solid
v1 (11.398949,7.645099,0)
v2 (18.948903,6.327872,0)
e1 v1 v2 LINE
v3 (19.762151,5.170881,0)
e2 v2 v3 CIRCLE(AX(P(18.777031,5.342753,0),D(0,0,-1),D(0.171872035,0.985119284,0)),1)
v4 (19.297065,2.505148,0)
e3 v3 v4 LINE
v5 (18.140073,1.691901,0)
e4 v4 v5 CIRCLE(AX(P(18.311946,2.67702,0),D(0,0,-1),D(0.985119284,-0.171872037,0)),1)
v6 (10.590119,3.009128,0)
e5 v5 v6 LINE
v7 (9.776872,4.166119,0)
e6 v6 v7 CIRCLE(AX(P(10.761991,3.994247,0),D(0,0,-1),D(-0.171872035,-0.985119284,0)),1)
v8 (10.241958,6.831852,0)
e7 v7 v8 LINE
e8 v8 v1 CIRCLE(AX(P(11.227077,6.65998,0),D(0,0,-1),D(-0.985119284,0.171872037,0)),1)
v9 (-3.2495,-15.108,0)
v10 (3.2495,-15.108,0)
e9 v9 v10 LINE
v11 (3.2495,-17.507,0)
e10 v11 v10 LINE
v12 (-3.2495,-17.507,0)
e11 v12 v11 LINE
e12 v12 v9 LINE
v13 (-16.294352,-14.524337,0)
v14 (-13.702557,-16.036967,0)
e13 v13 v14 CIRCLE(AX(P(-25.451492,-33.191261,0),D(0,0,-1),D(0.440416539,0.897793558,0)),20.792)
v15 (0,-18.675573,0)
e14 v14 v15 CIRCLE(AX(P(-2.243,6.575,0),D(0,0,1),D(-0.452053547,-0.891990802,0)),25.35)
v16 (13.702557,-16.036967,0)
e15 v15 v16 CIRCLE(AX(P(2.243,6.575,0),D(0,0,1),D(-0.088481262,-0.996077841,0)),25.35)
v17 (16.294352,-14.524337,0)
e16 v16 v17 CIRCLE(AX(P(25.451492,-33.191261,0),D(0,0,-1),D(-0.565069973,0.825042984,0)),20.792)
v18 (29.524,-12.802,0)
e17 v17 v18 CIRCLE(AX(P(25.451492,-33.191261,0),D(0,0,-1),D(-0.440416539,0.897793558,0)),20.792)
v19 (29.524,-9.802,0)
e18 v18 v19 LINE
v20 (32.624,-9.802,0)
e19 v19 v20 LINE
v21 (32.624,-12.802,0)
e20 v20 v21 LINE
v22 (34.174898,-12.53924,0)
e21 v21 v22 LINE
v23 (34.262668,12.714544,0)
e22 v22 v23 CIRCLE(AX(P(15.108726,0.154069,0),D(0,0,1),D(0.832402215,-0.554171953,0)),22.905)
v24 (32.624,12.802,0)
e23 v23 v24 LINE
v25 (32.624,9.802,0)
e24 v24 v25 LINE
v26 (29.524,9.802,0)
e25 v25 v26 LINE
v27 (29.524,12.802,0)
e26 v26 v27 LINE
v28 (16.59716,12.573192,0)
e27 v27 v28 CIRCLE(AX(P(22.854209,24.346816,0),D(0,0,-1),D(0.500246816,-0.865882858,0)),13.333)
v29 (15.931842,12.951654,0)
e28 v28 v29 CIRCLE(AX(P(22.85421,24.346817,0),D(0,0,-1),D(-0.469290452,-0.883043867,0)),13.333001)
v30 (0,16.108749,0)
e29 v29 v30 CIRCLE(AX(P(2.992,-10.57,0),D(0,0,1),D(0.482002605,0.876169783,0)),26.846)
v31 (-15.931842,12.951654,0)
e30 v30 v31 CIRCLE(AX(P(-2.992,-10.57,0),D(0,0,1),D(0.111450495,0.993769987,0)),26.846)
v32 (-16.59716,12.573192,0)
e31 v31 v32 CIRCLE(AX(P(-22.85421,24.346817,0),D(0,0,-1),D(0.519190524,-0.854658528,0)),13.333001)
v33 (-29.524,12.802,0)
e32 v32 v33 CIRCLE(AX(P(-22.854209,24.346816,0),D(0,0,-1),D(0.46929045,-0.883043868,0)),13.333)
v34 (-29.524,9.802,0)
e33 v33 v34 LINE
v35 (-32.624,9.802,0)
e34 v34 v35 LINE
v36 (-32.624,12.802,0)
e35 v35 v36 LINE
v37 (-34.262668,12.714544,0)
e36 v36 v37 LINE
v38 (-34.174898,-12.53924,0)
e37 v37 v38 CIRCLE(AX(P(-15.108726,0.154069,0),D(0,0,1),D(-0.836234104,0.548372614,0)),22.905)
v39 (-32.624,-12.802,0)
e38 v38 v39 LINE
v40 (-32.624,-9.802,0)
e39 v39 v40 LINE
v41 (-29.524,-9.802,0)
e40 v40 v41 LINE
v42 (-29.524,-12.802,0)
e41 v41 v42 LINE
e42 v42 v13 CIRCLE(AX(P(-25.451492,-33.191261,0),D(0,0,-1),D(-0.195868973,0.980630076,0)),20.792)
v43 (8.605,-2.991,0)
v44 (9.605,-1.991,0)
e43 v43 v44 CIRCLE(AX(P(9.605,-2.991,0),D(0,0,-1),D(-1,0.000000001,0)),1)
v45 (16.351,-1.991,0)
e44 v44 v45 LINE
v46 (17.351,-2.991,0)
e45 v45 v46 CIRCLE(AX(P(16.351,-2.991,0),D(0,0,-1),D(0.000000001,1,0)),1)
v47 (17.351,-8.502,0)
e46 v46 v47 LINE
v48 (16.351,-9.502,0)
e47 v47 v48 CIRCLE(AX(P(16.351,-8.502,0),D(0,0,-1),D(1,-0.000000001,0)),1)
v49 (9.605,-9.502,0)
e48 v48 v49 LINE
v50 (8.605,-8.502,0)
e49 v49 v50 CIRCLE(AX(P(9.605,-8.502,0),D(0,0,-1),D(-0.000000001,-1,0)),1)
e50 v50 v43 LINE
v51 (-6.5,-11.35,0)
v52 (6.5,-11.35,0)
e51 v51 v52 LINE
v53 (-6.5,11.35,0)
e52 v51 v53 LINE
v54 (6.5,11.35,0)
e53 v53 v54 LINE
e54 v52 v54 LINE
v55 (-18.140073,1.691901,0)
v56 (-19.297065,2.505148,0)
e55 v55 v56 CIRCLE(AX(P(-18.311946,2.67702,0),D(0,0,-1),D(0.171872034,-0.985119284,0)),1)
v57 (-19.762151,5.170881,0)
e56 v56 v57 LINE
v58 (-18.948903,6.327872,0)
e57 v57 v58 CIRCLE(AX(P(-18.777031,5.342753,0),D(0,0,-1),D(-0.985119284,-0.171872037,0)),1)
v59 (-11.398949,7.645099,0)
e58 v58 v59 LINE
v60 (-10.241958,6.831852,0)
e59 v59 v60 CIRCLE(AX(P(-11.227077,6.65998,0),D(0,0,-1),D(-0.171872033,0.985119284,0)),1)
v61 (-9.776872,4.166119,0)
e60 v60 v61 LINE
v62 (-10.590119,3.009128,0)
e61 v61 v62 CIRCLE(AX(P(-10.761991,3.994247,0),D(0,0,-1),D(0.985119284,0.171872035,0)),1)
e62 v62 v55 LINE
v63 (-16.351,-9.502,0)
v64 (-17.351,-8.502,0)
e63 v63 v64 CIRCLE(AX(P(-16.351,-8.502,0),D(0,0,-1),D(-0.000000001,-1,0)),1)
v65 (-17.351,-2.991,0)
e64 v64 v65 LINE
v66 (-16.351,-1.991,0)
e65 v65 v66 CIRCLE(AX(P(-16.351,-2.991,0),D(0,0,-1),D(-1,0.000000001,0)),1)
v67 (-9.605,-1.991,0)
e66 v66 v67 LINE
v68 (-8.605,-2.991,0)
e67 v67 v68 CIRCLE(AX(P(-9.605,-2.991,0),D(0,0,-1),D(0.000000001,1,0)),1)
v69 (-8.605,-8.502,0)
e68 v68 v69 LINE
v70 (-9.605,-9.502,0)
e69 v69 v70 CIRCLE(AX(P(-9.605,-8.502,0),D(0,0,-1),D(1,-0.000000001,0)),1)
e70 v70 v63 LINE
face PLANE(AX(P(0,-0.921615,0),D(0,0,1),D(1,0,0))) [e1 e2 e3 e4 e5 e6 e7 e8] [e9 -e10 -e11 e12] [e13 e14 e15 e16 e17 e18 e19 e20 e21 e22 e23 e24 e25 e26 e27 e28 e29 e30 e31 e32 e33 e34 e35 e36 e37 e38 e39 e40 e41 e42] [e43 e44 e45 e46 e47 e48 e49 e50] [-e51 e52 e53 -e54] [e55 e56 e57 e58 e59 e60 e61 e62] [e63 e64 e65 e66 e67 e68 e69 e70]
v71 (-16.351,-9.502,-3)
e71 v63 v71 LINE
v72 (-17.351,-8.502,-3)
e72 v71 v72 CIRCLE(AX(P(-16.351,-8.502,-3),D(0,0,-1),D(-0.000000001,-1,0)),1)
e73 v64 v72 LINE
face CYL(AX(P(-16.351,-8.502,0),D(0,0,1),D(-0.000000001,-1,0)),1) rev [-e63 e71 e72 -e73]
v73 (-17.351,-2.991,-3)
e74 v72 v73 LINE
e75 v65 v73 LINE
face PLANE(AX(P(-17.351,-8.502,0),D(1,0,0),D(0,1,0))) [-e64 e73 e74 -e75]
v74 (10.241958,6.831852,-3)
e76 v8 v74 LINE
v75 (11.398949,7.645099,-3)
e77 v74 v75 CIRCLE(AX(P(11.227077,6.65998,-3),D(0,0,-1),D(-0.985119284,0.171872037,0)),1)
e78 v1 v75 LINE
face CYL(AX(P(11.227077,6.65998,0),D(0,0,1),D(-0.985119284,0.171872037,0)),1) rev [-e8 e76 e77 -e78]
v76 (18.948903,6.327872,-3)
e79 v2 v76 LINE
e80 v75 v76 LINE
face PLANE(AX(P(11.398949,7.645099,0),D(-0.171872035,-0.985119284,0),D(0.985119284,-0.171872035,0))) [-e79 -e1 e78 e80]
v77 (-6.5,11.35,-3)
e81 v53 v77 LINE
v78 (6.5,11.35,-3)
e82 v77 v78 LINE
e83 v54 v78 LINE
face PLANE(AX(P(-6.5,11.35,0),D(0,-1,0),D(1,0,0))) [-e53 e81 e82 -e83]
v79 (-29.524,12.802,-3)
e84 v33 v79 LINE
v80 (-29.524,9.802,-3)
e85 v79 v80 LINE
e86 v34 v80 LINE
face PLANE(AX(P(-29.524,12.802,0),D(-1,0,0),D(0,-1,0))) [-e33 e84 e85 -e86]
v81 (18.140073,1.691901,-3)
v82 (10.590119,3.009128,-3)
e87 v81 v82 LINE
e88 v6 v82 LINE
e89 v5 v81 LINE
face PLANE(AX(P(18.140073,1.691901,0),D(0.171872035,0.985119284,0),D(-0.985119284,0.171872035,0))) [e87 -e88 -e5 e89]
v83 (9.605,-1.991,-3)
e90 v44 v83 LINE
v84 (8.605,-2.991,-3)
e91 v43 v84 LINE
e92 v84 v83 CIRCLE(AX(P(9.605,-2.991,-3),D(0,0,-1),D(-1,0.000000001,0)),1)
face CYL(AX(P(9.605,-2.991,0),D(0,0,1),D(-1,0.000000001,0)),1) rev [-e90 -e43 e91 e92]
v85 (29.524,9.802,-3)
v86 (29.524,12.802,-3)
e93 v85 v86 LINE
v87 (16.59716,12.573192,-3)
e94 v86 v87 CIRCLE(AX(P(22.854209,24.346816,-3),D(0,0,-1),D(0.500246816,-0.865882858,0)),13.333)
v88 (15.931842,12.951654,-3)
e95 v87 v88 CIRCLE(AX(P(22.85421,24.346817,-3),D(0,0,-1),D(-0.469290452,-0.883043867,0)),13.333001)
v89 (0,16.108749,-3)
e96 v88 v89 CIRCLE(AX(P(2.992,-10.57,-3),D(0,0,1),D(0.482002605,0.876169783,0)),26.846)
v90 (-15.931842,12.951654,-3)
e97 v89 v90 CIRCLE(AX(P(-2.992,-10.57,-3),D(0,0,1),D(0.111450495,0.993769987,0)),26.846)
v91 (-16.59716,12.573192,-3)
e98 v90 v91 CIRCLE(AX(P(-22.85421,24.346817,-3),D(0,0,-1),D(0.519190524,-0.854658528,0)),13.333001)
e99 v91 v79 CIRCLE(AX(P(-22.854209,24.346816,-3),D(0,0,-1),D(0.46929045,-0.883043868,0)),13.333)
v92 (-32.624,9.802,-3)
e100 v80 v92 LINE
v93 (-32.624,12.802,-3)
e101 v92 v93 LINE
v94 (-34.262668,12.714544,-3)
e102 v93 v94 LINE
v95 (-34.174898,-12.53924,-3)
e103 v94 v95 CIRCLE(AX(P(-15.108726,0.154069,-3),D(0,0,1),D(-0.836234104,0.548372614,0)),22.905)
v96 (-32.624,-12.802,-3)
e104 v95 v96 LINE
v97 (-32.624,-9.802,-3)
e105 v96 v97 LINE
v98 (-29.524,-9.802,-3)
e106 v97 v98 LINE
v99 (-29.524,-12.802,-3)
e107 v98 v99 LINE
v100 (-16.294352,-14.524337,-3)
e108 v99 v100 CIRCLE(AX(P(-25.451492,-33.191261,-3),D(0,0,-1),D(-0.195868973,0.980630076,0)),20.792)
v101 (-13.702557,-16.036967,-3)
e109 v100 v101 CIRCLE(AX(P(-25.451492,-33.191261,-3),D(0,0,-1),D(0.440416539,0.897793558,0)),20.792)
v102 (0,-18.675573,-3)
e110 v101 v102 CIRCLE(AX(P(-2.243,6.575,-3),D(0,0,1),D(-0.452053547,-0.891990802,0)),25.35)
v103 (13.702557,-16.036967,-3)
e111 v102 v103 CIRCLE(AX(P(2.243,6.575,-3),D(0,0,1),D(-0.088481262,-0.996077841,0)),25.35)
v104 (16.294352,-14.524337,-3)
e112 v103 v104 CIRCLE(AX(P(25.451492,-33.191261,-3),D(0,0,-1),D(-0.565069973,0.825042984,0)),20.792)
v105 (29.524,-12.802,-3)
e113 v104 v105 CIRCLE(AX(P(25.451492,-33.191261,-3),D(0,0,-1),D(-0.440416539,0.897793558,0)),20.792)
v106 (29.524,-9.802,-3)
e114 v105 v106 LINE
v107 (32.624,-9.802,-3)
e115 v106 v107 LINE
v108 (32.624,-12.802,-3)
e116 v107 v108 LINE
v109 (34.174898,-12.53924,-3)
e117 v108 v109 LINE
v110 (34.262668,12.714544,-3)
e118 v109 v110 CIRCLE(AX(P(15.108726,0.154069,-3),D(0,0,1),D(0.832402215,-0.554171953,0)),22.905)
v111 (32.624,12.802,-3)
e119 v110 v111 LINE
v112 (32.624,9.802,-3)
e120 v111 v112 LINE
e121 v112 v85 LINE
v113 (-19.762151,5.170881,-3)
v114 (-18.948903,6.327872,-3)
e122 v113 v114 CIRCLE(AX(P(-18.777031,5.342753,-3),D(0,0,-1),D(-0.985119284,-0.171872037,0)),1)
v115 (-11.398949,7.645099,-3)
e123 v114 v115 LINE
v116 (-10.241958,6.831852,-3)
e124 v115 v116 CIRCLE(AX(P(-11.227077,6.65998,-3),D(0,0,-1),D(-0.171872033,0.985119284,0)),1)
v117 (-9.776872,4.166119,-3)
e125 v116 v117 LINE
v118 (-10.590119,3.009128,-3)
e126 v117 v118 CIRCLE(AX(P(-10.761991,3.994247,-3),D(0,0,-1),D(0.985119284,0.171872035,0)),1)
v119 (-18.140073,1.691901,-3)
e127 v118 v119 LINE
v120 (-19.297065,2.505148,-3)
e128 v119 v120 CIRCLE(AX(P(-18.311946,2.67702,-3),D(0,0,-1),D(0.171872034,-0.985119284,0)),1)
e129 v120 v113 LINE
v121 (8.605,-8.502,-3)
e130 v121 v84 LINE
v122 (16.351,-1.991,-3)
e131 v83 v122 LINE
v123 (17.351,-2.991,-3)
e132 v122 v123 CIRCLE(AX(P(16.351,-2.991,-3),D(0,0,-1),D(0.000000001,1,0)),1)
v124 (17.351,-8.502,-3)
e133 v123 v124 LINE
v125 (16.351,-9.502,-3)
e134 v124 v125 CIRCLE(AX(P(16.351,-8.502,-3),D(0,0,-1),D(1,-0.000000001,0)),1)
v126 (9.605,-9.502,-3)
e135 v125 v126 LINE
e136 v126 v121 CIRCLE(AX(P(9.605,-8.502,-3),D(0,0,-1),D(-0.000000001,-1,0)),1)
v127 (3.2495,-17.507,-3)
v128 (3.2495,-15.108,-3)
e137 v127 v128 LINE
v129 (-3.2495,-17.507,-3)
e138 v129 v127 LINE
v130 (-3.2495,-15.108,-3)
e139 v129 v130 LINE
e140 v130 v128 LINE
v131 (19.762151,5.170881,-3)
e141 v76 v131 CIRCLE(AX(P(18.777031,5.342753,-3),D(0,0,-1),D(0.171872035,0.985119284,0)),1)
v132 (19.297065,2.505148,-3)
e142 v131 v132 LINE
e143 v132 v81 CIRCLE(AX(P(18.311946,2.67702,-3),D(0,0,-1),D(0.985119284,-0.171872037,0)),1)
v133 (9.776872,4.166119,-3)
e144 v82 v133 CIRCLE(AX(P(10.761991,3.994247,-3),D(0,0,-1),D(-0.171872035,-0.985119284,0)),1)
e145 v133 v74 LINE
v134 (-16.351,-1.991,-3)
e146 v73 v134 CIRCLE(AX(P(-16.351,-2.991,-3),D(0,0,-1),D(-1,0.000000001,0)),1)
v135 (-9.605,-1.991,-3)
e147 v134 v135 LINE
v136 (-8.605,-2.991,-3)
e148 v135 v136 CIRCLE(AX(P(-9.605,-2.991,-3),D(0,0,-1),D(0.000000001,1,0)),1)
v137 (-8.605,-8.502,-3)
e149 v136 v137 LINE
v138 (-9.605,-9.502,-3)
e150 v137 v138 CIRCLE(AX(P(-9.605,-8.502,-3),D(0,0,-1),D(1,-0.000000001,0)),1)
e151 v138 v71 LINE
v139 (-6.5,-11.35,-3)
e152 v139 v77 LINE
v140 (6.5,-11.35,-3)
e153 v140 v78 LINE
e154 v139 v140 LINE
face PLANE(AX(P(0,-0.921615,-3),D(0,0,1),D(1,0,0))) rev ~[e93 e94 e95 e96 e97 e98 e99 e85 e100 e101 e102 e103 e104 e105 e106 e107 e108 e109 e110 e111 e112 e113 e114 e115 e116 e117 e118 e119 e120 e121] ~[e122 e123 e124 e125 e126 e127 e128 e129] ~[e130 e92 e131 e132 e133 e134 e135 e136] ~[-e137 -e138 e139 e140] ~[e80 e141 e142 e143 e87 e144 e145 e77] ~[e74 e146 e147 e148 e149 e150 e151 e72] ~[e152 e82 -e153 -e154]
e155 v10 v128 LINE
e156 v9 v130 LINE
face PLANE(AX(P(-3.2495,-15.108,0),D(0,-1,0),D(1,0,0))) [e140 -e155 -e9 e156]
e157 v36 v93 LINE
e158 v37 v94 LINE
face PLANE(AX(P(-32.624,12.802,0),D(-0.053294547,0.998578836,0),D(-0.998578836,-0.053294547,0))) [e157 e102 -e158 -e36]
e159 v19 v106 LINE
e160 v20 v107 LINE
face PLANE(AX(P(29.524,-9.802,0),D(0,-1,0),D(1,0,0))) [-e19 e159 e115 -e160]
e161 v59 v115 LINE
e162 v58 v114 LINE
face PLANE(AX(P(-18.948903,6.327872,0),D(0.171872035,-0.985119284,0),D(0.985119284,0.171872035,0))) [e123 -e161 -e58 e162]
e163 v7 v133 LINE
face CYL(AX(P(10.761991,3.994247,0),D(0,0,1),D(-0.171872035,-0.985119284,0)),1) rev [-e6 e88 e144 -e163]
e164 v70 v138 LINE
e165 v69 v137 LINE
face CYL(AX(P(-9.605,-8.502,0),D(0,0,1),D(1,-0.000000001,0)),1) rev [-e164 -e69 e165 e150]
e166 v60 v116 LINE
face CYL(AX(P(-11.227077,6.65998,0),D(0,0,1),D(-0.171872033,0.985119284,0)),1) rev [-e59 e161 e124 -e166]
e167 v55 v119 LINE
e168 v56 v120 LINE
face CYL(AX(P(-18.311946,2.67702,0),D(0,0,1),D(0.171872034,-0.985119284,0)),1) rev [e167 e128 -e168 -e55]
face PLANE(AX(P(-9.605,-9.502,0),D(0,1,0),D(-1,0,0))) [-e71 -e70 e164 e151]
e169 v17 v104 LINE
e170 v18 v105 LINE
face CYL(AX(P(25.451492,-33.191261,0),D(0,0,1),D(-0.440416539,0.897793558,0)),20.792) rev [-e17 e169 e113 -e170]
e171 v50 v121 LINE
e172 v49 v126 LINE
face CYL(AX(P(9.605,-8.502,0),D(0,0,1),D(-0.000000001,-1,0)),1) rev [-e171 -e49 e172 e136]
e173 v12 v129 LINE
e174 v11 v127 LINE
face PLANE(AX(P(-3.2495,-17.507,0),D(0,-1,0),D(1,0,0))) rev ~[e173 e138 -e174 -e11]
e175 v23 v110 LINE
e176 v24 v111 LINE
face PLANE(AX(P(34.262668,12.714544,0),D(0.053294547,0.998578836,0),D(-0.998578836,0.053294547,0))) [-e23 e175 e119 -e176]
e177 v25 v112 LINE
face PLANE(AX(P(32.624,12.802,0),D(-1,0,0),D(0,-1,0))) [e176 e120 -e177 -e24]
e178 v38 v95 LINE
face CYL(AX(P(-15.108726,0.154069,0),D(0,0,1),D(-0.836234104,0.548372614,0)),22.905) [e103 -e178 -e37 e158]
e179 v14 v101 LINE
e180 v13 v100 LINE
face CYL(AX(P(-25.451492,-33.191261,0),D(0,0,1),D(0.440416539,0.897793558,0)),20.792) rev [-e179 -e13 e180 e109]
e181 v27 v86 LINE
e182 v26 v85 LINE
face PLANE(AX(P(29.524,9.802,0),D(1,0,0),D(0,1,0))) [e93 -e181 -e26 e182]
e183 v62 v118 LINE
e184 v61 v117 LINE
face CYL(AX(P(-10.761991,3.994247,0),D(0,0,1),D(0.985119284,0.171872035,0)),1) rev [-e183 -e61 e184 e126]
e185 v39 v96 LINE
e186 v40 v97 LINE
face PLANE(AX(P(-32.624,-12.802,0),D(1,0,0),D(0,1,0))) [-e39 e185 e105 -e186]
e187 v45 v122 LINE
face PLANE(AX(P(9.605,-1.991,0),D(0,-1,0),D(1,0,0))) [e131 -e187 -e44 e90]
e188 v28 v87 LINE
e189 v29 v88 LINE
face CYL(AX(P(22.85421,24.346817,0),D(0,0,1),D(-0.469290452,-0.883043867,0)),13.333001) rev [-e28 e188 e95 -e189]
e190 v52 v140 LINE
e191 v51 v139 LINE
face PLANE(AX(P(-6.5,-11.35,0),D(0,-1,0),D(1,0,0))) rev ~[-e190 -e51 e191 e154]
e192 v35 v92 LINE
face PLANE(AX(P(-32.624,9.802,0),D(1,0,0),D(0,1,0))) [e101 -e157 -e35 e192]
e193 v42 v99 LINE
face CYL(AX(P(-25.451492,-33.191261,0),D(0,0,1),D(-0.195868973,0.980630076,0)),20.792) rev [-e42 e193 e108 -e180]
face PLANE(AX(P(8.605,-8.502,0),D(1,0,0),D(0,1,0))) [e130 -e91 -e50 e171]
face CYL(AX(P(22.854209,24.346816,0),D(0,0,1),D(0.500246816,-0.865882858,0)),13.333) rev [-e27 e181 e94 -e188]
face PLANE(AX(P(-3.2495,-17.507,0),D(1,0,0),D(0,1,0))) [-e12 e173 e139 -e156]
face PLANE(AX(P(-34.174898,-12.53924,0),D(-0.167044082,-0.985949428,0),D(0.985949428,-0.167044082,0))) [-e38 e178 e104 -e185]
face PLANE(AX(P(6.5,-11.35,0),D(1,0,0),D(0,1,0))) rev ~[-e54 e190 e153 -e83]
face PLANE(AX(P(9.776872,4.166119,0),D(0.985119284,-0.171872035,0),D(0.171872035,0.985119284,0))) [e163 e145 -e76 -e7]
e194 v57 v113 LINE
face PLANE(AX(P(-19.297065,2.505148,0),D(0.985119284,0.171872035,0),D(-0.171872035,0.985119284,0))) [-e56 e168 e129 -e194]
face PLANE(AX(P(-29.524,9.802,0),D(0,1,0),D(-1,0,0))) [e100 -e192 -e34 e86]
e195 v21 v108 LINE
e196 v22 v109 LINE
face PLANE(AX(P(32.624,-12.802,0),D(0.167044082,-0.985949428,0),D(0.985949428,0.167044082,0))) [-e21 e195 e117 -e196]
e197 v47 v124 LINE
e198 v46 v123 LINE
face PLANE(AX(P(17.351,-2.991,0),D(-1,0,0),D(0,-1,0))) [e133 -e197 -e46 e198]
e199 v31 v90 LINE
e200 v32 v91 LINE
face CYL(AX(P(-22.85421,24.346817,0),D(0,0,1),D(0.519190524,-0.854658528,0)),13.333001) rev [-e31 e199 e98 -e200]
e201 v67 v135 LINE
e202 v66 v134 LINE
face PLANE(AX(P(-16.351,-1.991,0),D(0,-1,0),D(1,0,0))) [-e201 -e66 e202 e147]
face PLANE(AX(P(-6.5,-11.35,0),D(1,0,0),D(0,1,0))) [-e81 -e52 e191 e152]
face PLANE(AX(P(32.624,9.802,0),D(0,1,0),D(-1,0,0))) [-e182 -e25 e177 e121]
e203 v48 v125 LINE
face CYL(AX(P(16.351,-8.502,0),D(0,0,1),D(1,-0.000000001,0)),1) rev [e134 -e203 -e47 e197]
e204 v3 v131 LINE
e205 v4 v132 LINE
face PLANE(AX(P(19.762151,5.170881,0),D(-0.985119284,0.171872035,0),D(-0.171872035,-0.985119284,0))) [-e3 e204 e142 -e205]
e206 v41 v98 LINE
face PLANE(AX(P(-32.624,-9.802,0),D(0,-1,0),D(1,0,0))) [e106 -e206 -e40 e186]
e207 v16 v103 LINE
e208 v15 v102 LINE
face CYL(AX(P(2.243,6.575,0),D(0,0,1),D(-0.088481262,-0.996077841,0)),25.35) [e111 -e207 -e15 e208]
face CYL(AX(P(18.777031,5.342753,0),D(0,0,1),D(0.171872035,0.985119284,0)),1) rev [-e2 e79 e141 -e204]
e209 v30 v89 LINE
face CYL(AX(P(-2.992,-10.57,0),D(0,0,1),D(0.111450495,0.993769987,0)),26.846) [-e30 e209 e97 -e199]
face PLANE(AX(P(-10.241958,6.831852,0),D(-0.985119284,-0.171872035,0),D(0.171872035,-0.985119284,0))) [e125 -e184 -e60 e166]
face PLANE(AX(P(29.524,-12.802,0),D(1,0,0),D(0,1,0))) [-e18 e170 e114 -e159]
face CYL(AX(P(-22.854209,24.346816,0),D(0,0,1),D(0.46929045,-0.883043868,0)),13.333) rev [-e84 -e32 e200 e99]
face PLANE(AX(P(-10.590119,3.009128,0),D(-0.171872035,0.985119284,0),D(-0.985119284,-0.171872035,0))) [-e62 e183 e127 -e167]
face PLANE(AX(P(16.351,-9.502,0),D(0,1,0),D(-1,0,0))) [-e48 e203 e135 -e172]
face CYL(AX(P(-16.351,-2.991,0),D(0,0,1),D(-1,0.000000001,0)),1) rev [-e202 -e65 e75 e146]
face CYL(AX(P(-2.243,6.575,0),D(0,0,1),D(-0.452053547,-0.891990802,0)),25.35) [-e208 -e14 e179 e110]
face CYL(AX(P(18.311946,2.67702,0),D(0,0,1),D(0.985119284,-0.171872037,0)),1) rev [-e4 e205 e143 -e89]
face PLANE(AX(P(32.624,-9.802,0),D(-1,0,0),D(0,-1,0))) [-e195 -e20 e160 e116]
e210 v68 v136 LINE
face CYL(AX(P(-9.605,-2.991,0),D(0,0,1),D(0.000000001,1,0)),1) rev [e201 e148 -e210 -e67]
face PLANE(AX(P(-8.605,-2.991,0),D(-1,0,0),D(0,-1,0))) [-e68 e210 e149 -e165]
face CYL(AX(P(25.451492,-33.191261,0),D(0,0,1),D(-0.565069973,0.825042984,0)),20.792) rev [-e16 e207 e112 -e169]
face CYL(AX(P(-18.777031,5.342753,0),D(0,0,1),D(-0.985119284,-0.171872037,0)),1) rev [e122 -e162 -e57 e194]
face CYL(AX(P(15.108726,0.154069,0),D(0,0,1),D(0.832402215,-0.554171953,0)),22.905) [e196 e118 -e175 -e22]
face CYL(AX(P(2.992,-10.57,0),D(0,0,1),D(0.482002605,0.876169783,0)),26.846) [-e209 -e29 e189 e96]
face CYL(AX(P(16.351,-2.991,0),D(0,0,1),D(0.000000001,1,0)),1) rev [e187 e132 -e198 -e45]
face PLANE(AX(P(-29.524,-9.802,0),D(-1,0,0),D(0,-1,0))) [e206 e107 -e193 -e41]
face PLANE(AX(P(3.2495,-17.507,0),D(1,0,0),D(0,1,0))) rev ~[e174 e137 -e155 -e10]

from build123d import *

# Parameters (mm, degrees)
BOSS_EXTRUDE1_DEPTH = 3
SKETCH2_W           = 13
SKETCH2_H           = 22.7
SKETCH2_W_2         = 6.499
SKETCH2_H_2         = 2.399
CUT_EXTRUDE1_DEPTH  = 3


with BuildPart() as part:
    # Sketch1 → Boss-Extrude1 (new body)
    with BuildSketch(Plane.XY):
        with BuildLine():
            ThreePointArc((-27.048045715, 1.346978667), (-23.229413898, -7.644456097), (-16.294351646, -14.524336884))
            ThreePointArc((-16.294351646, -14.524336884), (-14.971129192, -15.233831637), (-13.702557421, -16.036966825))
            ThreePointArc((-13.702557421, -16.036966825), (-7.036411487, -18.317683791), (0, -18.675573281))
            ThreePointArc((0, -18.675573281), (7.036411487, -18.317683791), (13.702557421, -16.036966825))
            ThreePointArc((13.702557421, -16.036966825), (14.971129192, -15.233831637), (16.294351646, -14.524336884))
            ThreePointArc((16.294351646, -14.524336884), (23.229413898, -7.644456097), (27.048045715, 1.346978667))
            ThreePointArc((27.048045715, 1.346978667), (22.641390956, 7.722324922), (16.597159635, 12.573192245))
            ThreePointArc((16.597159635, 12.573192245), (16.261784348, 12.757647773), (15.931841919, 12.951654004))
            ThreePointArc((15.931841919, 12.951654004), (8.210400332, 15.763932748), (0, 16.108749071))
            ThreePointArc((0, 16.108749071), (-8.210400332, 15.763932748), (-15.931841919, 12.951654004))
            ThreePointArc((-15.931841919, 12.951654004), (-16.261784348, 12.757647773), (-16.597159635, 12.573192245))
            ThreePointArc((-16.597159635, 12.573192245), (-22.641390956, 7.722324922), (-27.048045715, 1.346978667))
        make_face()
        with BuildLine():
            Line((29.524, 9.802), (29.524, -9.802))
            Line((29.524, -9.802), (32.624, -9.802))
            Line((32.624, -9.802), (32.624, -12.802))
            Line((32.624, -12.802), (34.17489845, -12.539239659))
            ThreePointArc((34.17489845, -12.539239659), (38.013587392, 0.074463168), (34.262667869, 12.714543648))
            Line((34.262667869, 12.714543648), (32.624, 12.802))
            Line((32.624, 12.802), (32.624, 9.802))
            Line((32.624, 9.802), (29.524, 9.802))
        make_face()
        with BuildLine():
            ThreePointArc((27.048045715, 1.346978667), (23.229413898, -7.644456097), (16.294351646, -14.524336884))
            ThreePointArc((16.294351646, -14.524336884), (22.767282146, -12.573251909), (29.524, -12.802))
            Line((29.524, -12.802), (29.524, -9.802))
            Line((29.524, -9.802), (29.524, 9.802))
            Line((29.524, 9.802), (29.524, 12.802))
            ThreePointArc((29.524, 12.802), (23.09016911, 11.015904248), (16.597159635, 12.573192245))
            ThreePointArc((16.597159635, 12.573192245), (22.641390956, 7.722324922), (27.048045715, 1.346978667))
        make_face()
        with BuildLine():
            Line((-29.524, -9.802), (-29.524, -12.802))
            ThreePointArc((-29.524, -12.802), (-22.767282146, -12.573251909), (-16.294351646, -14.524336884))
            ThreePointArc((-16.294351646, -14.524336884), (-23.229413898, -7.644456097), (-27.048045715, 1.346978667))
            ThreePointArc((-27.048045715, 1.346978667), (-22.641390956, 7.722324922), (-16.597159635, 12.573192245))
            ThreePointArc((-16.597159635, 12.573192245), (-23.09016911, 11.015904248), (-29.524, 12.802))
            Line((-29.524, 12.802), (-29.524, 9.802))
            Line((-29.524, 9.802), (-29.524, -9.802))
        make_face()
        with BuildLine():
            Line((-32.624, -9.802), (-29.524, -9.802))
            Line((-29.524, -9.802), (-29.524, 9.802))
            Line((-29.524, 9.802), (-32.624, 9.802))
            Line((-32.624, 9.802), (-32.624, 12.802))
            Line((-32.624, 12.802), (-34.262667869, 12.714543648))
            ThreePointArc((-34.262667869, 12.714543648), (-38.013587392, 0.074463168), (-34.17489845, -12.539239659))
            Line((-34.17489845, -12.539239659), (-32.624, -12.802))
            Line((-32.624, -12.802), (-32.624, -9.802))
        make_face()
    extrude(amount=-BOSS_EXTRUDE1_DEPTH)

    # Sketch2 → Cut-Extrude1 (cut)
    with BuildSketch(Plane.XY):
        with BuildLine():
            ThreePointArc((-18.140073475, 1.691900685), (-18.886998155, 1.858903562), (-19.297064795, 2.505147934))
            Line((-19.297064795, 2.505147934), (-19.762150522, 5.170880716))
            ThreePointArc((-19.762150522, 5.170880716), (-19.595147646, 5.917805396), (-18.948903274, 6.327872035))
            Line((-18.948903274, 6.327872035), (-11.398949082, 7.645099315))
            ThreePointArc((-11.398949082, 7.645099315), (-10.652024403, 7.478096438), (-10.241957763, 6.831852066))
            Line((-10.241957763, 6.831852066), (-9.776872035, 4.166119284))
            ThreePointArc((-9.776872035, 4.166119284), (-9.943874912, 3.419194604), (-10.590119284, 3.009127965))
            Line((-10.590119284, 3.009127965), (-18.140073475, 1.691900685))
        make_face()
        Rectangle(SKETCH2_W, SKETCH2_H)
        with BuildLine():
            ThreePointArc((-16.351, -9.502), (-17.058106781, -9.209106781), (-17.351, -8.502))
            Line((-17.351, -8.502), (-17.351, -2.991))
            ThreePointArc((-17.351, -2.991), (-17.058106781, -2.283893219), (-16.351, -1.991))
            Line((-16.351, -1.991), (-9.605, -1.991))
            ThreePointArc((-9.605, -1.991), (-8.897893219, -2.283893219), (-8.605, -2.991))
            Line((-8.605, -2.991), (-8.605, -8.502))
            ThreePointArc((-8.605, -8.502), (-8.897893219, -9.209106781), (-9.605, -9.502))
            Line((-9.605, -9.502), (-16.351, -9.502))
        make_face()
        with BuildLine():
            Line((9.605, -1.991), (16.351, -1.991))
            ThreePointArc((16.351, -1.991), (17.058106781, -2.283893219), (17.351, -2.991))
            Line((17.351, -2.991), (17.351, -8.502))
            ThreePointArc((17.351, -8.502), (17.058106781, -9.209106781), (16.351, -9.502))
            Line((16.351, -9.502), (9.605, -9.502))
            ThreePointArc((9.605, -9.502), (8.897893219, -9.209106781), (8.605, -8.502))
            Line((8.605, -8.502), (8.605, -2.991))
            ThreePointArc((8.605, -2.991), (8.897893219, -2.283893219), (9.605, -1.991))
        make_face()
        with BuildLine():
            ThreePointArc((10.241957763, 6.831852066), (10.652024403, 7.478096438), (11.398949082, 7.645099315))
            Line((11.398949082, 7.645099315), (18.948903274, 6.327872035))
            ThreePointArc((18.948903274, 6.327872035), (19.595147646, 5.917805396), (19.762150522, 5.170880716))
            Line((19.762150522, 5.170880716), (19.297064795, 2.505147934))
            ThreePointArc((19.297064795, 2.505147934), (18.886998155, 1.858903562), (18.140073475, 1.691900685))
            Line((18.140073475, 1.691900685), (10.590119284, 3.009127965))
            ThreePointArc((10.590119284, 3.009127965), (9.943874912, 3.419194604), (9.776872035, 4.166119284))
            Line((9.776872035, 4.166119284), (10.241957763, 6.831852066))
        make_face()
        with Locations((0, -16.3075)):
            Rectangle(SKETCH2_W_2, SKETCH2_H_2)
    extrude(amount=-CUT_EXTRUDE1_DEPTH, mode=Mode.SUBTRACT)


solid = part.part
